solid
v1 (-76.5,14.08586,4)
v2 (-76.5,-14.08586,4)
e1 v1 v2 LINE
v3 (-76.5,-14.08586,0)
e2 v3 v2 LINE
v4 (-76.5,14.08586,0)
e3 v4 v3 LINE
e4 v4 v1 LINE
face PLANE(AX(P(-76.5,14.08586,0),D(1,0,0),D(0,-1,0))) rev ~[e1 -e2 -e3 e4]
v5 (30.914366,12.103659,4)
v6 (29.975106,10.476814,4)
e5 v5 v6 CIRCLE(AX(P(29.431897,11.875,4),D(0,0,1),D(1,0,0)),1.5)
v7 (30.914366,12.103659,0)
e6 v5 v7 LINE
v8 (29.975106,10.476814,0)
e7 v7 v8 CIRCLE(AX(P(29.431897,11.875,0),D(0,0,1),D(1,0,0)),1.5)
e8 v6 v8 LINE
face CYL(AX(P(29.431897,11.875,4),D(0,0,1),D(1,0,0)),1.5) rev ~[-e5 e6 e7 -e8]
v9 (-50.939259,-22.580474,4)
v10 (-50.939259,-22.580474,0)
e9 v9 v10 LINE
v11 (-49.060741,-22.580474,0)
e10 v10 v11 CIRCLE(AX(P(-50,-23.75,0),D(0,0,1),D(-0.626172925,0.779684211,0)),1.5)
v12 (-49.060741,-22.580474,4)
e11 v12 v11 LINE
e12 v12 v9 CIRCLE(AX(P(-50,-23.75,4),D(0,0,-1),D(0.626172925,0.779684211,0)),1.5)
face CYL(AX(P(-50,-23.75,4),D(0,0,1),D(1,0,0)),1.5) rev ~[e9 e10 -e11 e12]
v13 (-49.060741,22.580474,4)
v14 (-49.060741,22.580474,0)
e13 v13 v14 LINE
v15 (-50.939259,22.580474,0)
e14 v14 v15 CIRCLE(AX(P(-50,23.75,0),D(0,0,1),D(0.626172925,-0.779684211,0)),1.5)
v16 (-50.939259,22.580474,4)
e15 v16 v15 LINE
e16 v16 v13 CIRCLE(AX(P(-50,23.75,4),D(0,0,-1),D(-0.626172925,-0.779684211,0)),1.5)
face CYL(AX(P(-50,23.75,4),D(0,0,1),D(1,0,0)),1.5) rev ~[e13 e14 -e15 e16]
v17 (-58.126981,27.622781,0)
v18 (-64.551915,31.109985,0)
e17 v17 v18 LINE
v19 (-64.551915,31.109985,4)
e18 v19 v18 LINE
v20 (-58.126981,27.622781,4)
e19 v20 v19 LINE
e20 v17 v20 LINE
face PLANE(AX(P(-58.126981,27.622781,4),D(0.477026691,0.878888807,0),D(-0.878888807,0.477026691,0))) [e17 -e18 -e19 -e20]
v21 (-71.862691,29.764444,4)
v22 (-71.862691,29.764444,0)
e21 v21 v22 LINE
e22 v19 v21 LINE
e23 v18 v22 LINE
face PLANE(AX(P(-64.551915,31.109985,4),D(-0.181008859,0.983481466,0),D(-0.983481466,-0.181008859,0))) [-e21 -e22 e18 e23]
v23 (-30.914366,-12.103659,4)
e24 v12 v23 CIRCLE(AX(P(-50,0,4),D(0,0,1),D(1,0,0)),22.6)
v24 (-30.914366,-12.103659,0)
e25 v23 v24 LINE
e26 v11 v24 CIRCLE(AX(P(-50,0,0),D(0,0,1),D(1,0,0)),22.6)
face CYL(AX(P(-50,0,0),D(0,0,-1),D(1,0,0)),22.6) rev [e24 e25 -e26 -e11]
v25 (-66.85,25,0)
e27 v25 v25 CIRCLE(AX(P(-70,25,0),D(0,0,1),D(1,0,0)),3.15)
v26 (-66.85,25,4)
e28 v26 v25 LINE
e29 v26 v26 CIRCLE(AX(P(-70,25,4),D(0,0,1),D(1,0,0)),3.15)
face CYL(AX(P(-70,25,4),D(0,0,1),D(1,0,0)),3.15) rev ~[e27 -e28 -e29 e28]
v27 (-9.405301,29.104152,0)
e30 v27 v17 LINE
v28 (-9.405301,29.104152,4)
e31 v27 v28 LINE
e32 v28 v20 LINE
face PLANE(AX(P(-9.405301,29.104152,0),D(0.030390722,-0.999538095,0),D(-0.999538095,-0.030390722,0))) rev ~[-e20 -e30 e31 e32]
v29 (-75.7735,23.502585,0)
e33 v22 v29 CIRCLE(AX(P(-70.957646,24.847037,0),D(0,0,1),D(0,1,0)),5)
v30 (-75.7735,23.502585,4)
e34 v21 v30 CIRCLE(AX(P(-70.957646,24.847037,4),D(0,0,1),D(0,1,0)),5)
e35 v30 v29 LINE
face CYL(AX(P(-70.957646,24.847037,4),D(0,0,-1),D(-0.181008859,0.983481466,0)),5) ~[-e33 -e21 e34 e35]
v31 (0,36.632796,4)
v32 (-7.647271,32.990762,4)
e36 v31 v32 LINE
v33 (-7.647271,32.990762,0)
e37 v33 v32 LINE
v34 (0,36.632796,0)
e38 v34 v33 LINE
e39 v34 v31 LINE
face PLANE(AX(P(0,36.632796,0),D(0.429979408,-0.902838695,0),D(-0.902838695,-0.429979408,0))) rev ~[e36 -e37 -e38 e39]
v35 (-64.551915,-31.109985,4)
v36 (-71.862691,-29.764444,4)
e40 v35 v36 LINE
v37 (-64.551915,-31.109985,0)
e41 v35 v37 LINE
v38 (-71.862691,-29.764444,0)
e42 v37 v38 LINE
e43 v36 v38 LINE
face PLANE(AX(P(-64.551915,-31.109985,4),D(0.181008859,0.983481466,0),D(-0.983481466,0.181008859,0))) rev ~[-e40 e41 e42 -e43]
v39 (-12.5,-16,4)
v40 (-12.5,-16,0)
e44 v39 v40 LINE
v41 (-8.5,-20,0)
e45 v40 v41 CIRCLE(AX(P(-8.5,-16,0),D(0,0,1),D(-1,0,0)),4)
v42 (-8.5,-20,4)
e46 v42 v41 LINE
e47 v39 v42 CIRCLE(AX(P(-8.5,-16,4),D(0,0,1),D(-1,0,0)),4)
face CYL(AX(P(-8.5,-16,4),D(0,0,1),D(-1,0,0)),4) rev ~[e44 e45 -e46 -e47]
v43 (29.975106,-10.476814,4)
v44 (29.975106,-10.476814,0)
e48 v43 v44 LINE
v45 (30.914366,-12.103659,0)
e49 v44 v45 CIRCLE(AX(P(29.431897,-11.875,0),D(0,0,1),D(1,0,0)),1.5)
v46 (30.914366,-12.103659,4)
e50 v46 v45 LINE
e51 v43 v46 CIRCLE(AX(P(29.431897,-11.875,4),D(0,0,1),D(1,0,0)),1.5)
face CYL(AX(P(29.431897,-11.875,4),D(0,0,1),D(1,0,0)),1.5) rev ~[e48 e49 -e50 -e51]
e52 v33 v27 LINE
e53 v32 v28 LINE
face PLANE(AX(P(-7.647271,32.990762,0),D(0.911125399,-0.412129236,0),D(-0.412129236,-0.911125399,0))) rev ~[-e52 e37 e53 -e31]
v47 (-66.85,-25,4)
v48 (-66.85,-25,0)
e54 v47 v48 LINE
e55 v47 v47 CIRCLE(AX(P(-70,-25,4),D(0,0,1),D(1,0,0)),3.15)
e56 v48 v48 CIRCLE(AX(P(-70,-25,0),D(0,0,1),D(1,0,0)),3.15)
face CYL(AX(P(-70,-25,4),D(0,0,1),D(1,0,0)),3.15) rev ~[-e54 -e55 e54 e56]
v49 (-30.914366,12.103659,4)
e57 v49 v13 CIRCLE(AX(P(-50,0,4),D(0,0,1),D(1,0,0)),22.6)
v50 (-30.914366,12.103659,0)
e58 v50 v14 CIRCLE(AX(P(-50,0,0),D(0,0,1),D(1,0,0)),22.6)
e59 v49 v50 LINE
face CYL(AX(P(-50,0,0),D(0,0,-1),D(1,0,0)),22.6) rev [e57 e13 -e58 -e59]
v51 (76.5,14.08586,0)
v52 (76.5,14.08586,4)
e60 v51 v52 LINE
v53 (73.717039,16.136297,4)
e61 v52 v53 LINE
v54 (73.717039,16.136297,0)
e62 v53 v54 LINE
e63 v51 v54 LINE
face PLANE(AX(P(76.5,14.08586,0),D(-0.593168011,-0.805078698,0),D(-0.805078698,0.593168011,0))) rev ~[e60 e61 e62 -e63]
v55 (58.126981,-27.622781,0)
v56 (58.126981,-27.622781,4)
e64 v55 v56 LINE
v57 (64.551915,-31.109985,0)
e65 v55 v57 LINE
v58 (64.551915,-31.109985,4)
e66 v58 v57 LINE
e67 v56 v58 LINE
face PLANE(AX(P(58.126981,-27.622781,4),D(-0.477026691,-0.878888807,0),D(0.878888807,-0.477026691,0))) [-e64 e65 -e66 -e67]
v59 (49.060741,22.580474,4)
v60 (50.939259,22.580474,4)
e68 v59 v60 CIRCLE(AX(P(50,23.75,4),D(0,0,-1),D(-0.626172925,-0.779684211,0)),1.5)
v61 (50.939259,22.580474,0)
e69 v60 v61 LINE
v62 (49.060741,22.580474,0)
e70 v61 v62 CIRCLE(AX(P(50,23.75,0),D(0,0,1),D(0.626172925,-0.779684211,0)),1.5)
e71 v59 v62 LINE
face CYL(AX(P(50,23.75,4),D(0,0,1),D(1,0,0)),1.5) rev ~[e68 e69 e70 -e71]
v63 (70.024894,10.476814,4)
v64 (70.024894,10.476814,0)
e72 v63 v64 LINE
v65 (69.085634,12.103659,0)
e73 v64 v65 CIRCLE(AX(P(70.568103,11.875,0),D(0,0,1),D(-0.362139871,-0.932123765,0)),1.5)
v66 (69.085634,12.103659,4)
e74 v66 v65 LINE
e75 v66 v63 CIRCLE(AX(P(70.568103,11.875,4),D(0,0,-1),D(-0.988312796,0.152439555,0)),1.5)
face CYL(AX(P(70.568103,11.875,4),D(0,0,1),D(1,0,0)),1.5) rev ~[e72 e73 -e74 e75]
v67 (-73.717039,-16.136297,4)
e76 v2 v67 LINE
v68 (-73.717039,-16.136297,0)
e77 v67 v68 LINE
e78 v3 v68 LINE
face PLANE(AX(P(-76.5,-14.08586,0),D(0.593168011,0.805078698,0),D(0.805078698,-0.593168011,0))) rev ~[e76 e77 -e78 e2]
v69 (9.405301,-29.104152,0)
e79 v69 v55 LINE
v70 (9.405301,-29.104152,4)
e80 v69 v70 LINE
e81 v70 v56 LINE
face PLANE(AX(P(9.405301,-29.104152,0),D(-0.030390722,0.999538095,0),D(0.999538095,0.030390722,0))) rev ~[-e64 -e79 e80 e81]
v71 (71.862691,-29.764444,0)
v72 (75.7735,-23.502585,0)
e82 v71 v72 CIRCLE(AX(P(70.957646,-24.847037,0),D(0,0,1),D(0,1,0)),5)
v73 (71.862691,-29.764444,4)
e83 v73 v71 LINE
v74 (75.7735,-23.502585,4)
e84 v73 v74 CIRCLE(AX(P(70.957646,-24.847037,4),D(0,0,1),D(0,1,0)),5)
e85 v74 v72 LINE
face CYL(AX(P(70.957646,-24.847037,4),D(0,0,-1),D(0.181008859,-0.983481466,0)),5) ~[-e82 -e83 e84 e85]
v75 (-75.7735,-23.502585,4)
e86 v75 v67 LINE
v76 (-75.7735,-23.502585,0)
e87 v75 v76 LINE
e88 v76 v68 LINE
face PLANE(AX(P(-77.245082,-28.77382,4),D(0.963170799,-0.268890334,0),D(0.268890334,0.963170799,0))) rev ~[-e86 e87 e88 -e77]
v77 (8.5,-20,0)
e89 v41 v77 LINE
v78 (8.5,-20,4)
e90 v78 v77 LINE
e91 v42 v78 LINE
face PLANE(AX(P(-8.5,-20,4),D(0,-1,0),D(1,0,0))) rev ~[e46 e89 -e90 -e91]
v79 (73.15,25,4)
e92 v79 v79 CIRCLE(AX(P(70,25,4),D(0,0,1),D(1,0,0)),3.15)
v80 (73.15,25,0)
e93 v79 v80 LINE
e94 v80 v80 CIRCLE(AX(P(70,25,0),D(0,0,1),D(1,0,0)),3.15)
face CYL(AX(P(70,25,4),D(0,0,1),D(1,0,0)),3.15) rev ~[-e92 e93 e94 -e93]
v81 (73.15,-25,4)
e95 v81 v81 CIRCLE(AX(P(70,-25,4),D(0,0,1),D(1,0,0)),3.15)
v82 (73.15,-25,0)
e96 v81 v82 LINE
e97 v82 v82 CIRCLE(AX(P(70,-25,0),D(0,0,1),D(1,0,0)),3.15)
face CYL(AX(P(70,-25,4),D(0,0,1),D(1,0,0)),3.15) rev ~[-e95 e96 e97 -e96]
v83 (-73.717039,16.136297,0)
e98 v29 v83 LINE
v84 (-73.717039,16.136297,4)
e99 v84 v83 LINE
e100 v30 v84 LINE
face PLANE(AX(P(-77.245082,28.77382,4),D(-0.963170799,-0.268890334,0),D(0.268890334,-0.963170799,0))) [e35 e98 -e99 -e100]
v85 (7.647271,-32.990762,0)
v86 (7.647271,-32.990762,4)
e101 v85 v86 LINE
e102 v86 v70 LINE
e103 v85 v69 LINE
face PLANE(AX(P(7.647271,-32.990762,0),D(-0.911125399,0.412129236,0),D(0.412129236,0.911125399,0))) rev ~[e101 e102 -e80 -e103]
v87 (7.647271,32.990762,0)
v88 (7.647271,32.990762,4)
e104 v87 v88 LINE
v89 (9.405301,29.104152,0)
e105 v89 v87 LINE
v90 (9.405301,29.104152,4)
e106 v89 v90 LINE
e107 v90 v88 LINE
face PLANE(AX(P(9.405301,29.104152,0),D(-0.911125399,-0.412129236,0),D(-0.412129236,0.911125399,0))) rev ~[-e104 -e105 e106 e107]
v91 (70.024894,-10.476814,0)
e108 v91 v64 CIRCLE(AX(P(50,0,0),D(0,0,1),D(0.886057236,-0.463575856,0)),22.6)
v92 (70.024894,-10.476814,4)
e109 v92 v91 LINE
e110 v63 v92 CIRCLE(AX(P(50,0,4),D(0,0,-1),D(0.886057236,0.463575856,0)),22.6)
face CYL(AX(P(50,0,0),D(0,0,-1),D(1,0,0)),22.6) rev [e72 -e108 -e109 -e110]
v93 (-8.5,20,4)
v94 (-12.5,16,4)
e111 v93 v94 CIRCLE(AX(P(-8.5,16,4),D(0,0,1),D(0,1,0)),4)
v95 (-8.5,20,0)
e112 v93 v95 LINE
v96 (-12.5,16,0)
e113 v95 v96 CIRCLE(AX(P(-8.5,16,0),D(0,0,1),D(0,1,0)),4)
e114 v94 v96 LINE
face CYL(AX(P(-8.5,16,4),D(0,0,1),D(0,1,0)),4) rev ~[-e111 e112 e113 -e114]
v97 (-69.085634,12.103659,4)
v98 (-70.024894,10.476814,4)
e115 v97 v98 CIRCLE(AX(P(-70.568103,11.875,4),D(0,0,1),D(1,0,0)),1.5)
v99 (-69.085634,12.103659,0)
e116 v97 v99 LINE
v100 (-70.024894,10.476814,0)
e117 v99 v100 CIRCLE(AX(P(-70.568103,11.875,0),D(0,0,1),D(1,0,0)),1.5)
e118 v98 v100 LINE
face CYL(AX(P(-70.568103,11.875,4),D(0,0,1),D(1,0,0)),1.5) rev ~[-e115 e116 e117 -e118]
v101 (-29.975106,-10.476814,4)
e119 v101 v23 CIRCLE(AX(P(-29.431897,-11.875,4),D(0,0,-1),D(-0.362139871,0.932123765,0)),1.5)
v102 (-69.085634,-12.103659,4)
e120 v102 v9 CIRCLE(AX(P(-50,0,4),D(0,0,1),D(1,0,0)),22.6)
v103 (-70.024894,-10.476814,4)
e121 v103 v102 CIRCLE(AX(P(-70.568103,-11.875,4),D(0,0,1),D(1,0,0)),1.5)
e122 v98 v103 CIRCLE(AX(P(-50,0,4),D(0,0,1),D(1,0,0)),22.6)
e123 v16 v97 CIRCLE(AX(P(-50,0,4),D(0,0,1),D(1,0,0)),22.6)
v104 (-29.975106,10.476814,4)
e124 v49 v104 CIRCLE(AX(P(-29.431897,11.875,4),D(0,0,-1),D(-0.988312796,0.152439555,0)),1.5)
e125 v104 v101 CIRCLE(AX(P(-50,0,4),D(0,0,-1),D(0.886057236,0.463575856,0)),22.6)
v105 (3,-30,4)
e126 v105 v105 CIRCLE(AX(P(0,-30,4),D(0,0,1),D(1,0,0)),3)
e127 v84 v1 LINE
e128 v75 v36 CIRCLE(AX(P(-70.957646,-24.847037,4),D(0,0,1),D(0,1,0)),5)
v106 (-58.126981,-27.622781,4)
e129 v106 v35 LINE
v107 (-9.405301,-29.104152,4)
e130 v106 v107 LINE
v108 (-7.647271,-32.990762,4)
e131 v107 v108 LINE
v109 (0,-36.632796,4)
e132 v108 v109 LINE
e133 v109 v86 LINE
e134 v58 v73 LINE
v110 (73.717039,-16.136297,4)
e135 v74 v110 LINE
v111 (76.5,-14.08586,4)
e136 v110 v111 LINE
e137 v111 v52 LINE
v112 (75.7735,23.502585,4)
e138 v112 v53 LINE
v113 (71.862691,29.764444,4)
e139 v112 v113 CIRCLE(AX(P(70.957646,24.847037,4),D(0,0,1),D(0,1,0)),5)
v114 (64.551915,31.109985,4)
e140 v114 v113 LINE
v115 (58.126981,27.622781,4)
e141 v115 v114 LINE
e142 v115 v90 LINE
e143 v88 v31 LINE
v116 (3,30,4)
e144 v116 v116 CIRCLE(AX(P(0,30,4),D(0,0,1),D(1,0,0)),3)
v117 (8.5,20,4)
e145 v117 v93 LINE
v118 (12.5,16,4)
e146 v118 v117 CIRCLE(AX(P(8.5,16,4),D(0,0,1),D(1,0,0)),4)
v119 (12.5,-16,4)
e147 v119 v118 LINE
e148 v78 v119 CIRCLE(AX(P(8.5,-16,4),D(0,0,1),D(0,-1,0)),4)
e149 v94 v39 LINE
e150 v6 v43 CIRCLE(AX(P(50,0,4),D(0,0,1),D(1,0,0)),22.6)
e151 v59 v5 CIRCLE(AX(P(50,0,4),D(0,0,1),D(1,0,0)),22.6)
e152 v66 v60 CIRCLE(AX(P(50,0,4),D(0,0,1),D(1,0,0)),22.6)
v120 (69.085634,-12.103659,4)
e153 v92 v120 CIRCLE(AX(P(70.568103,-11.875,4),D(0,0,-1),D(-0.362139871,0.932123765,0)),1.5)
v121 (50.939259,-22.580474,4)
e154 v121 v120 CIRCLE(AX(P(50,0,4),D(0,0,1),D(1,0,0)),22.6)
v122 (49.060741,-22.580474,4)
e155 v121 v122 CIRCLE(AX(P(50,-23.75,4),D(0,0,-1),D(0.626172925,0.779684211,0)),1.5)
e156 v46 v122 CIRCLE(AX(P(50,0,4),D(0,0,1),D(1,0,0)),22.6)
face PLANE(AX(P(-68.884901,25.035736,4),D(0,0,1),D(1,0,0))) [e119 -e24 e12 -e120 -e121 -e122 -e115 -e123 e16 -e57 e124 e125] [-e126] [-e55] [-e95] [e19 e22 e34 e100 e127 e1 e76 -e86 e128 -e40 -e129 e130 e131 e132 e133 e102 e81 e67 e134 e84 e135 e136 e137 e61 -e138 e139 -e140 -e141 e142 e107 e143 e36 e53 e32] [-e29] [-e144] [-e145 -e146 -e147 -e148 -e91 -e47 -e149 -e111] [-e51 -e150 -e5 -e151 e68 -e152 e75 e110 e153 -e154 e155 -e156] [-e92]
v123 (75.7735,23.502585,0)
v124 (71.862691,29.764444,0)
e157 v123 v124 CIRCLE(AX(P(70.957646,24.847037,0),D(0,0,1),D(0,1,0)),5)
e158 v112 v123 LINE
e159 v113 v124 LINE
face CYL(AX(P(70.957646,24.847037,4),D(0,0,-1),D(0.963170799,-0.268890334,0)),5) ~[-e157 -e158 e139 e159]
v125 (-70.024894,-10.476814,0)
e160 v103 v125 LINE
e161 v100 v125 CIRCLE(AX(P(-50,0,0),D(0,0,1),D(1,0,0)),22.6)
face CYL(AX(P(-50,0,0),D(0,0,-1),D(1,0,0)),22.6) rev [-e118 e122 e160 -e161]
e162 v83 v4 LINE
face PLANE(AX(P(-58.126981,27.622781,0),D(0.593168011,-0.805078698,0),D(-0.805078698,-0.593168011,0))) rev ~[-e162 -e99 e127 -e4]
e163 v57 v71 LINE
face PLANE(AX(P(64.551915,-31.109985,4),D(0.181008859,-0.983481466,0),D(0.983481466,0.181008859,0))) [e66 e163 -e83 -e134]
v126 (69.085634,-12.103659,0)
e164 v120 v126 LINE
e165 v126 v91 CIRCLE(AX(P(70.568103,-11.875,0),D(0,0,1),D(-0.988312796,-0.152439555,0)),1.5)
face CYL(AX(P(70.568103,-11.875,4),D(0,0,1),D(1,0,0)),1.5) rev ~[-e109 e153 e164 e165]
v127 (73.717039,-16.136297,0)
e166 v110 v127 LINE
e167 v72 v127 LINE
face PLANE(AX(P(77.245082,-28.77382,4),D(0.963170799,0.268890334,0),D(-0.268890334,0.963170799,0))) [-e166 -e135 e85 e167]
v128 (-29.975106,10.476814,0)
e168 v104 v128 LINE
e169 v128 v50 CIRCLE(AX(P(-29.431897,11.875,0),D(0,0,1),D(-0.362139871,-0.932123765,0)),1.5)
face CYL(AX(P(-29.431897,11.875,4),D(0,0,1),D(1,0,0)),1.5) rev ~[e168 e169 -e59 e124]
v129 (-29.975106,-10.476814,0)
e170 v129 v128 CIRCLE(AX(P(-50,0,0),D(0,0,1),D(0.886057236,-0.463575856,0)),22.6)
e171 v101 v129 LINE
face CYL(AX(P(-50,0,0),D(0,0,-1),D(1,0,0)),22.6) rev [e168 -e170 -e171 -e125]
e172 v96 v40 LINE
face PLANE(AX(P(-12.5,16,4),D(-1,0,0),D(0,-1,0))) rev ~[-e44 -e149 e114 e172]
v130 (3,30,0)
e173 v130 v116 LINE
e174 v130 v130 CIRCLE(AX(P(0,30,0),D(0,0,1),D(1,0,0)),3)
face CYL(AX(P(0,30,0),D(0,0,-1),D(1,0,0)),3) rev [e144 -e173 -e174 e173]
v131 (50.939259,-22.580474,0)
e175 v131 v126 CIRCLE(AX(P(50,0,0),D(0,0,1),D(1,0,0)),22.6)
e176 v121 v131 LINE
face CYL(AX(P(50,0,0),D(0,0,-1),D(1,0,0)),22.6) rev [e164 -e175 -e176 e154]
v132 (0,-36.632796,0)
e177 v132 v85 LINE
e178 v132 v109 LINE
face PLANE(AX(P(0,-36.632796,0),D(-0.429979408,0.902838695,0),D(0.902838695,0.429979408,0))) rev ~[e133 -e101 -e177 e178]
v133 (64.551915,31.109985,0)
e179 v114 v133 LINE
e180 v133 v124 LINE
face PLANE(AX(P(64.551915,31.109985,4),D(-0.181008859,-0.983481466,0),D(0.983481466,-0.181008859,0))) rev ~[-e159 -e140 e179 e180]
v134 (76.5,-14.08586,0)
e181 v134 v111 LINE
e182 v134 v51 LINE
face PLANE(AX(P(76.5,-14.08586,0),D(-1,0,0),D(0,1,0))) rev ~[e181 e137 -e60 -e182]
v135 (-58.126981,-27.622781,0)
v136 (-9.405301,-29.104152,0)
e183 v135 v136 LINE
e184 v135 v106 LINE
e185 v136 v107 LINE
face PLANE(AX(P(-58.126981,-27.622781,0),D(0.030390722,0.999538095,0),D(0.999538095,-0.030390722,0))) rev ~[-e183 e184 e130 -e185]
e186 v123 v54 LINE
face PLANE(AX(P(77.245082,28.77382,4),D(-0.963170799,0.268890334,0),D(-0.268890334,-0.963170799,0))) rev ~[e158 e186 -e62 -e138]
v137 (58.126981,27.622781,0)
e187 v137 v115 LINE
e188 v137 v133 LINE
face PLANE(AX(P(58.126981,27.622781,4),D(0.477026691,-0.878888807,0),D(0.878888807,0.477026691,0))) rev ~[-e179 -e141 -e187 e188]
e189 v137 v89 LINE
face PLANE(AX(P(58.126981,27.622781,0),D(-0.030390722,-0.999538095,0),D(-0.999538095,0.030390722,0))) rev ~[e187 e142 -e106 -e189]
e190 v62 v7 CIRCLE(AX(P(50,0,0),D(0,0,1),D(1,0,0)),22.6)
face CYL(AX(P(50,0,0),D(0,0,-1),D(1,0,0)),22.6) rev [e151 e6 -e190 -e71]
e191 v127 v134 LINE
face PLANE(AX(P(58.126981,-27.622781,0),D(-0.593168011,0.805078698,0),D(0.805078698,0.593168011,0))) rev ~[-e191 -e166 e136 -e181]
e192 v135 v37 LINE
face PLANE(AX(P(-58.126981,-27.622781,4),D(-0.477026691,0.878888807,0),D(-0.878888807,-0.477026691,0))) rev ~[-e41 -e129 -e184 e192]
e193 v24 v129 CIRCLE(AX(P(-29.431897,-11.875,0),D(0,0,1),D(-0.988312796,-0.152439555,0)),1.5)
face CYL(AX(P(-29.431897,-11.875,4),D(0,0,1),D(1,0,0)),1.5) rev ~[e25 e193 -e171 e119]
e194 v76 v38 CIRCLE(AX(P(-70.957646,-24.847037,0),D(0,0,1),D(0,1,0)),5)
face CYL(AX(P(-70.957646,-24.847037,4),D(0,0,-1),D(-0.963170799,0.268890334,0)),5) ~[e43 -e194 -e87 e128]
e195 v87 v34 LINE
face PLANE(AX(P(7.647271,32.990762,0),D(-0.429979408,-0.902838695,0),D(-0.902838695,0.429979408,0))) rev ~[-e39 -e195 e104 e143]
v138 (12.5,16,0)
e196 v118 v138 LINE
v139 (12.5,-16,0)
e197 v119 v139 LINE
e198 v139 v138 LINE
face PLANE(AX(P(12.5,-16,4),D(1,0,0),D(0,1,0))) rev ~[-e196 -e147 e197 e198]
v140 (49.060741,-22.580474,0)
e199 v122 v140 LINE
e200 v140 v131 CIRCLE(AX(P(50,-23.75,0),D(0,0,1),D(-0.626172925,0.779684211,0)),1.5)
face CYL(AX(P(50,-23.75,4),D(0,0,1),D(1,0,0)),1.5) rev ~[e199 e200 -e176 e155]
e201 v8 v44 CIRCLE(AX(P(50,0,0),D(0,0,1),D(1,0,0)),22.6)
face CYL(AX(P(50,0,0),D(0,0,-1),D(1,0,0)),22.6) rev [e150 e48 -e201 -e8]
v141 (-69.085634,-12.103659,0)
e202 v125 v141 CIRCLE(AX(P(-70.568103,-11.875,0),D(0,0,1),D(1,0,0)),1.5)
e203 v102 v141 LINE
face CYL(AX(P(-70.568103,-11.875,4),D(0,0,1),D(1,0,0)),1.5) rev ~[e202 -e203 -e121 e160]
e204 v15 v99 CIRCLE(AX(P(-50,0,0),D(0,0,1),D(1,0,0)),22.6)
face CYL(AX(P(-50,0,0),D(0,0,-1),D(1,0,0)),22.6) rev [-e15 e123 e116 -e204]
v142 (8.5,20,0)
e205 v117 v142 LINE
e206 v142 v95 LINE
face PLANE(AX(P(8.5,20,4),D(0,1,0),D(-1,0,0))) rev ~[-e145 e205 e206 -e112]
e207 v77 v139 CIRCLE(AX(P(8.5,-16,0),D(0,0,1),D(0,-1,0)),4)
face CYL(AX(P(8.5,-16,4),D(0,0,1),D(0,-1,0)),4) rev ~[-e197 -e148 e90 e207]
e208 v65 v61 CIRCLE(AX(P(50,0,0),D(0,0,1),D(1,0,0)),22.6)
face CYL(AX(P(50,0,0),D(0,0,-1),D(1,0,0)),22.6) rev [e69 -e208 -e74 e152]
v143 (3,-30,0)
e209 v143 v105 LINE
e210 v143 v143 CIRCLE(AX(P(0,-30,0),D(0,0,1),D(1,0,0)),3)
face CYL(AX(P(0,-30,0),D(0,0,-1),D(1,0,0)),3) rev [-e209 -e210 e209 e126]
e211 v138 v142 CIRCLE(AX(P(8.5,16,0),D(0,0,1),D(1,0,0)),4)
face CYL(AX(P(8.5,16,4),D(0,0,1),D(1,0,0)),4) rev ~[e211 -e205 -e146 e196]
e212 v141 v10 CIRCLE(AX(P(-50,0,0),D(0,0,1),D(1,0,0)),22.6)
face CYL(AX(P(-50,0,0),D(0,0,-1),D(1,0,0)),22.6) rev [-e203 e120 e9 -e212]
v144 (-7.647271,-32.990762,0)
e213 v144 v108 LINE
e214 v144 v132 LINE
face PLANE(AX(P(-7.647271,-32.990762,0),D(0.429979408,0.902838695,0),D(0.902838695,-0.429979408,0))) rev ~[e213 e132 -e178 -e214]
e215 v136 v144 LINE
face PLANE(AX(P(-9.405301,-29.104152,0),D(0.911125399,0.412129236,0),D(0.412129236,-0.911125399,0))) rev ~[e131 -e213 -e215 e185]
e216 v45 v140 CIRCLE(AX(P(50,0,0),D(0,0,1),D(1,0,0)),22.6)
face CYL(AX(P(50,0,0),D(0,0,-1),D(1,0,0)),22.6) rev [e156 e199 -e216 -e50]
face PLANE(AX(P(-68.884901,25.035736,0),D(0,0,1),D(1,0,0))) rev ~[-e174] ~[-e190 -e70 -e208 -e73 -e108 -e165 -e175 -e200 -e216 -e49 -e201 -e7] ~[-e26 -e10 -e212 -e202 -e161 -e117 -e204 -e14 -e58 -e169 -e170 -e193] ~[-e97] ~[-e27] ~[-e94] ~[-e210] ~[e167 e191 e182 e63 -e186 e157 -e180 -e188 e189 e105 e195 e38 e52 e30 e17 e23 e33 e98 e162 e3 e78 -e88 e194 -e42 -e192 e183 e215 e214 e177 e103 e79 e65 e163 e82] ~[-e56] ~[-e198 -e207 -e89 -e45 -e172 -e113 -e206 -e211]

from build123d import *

# Parameters (mm, degrees)
SKETCH1_R           = 3
SKETCH1_R_2         = 22.6
BOSS_EXTRUDE1_DEPTH = 4
CUT_EXTRUDE1_DEPTH  = 5
SKETCH3_R           = 3.15
BOSS_EXTRUDE2_DEPTH = 4
FILLET1_R           = 5
SKETCH4_R           = 1.5
CUT_EXTRUDE2_DEPTH  = 5


with BuildPart() as part:
    # Sketch1 → Boss-Extrude1 (new body)
    with BuildSketch(Plane.XY):
        Polygon((0, 36.632796194), (-7.647271147, 32.990762303), (-9.405300929, 29.104152359), (-58.126981429, 27.62278105), (-76.5, 14.085859857), (-76.5, -14.085859857), (-58.126981429, -27.62278105), (-9.405300929, -29.104152359), (-7.647271147, -32.990762303), (0, -36.632796194), (7.647271147, -32.990762303), (9.405300929, -29.104152359), (58.126981429, -27.62278105), (76.5, -14.085859857), (76.5, 14.085859857), (58.126981429, 27.62278105), (9.405300929, 29.104152359), (7.647271147, 32.990762303), align=None)
        with Locations((0, 30)):
            Circle(SKETCH1_R, mode=Mode.SUBTRACT)
        with Locations((-50, 0)):
            Circle(SKETCH1_R_2, mode=Mode.SUBTRACT)
        with Locations((50, 0)):
            Circle(SKETCH1_R_2, mode=Mode.SUBTRACT)
        with Locations((0, -30)):
            Circle(SKETCH1_R, mode=Mode.SUBTRACT)
    extrude(amount=BOSS_EXTRUDE1_DEPTH)

    # Sketch2 → Cut-Extrude1 (cut, through all)
    with BuildSketch(Plane.XY.offset(4)):
        with BuildLine():
            Line((8.5, 20), (-8.5, 20))
            ThreePointArc((-8.5, 20), (-11.328427125, 18.828427125), (-12.5, 16))
            Line((-12.5, 16), (-12.5, -16))
            ThreePointArc((-12.5, -16), (-11.328427125, -18.828427125), (-8.5, -20))
            Line((-8.5, -20), (8.5, -20))
            ThreePointArc((8.5, -20), (11.328427125, -18.828427125), (12.5, -16))
            Line((12.5, -16), (12.5, 16))
            ThreePointArc((12.5, 16), (11.328427125, 18.828427125), (8.5, 20))
        make_face()
    extrude(amount=-CUT_EXTRUDE1_DEPTH, mode=Mode.SUBTRACT)

    # Sketch3 → Boss-Extrude2 (add)
    with BuildSketch(Plane.XY.offset(4)):
        Polygon((-58.126981429, 27.62278105), (-64.551915182, 31.10998542), (-77.245081729, 28.773819798), (-73.717039059, 16.136297176), align=None)
        with Locations((-70, 25)):
            Circle(SKETCH3_R, mode=Mode.SUBTRACT)
        Polygon((73.717039059, 16.136297176), (58.126981429, 27.62278105), (64.551915182, 31.10998542), (77.245081729, 28.773819798), align=None)
        with Locations((70, 25)):
            Circle(SKETCH3_R, mode=Mode.SUBTRACT)
        Polygon((58.126981429, -27.62278105), (64.551915182, -31.10998542), (77.245081729, -28.773819798), (73.717039059, -16.136297176), align=None)
        with Locations((70, -25)):
            Circle(SKETCH3_R, mode=Mode.SUBTRACT)
        Polygon((-73.717039059, -16.136297176), (-58.126981429, -27.62278105), (-64.551915182, -31.10998542), (-77.245081729, -28.773819798), align=None)
        with Locations((-70, -25)):
            Circle(SKETCH3_R, mode=Mode.SUBTRACT)
    extrude(amount=-BOSS_EXTRUDE2_DEPTH)

    # Fillet1
    fillet1_edges = [part.edges().sort_by_distance(p)[0] for p in [
        (77.245081729, 28.773819798, 2),
        (77.245081729, -28.773819798, 2),
        (-77.245081729, -28.773819798, 2),
        (-77.245081729, 28.773819798, 2),
    ]]
    fillet(fillet1_edges, radius=FILLET1_R)

    # Sketch4 → Cut-Extrude2 (cut, through all)
    with BuildSketch(Plane.XY.offset(4)):
        with Locations((-50, 23.75)):
            Circle(SKETCH4_R)
        with Locations((-70.56810334, 11.875)):
            Circle(SKETCH4_R)
        with Locations((-70.56810334, -11.875)):
            Circle(SKETCH4_R)
        with Locations((-50, -23.75)):
            Circle(SKETCH4_R)
        with Locations((-29.43189666, -11.875)):
            Circle(SKETCH4_R)
        with Locations((-29.43189666, 11.875)):
            Circle(SKETCH4_R)
        with Locations((29.43189666, 11.875)):
            Circle(SKETCH4_R)
        with Locations((29.43189666, -11.875)):
            Circle(SKETCH4_R)
        with Locations((50, -23.75)):
            Circle(SKETCH4_R)
        with Locations((70.56810334, -11.875)):
            Circle(SKETCH4_R)
        with Locations((70.56810334, 11.875)):
            Circle(SKETCH4_R)
        with Locations((50, 23.75)):
            Circle(SKETCH4_R)
    extrude(amount=-CUT_EXTRUDE2_DEPTH, mode=Mode.SUBTRACT)


solid = part.part
